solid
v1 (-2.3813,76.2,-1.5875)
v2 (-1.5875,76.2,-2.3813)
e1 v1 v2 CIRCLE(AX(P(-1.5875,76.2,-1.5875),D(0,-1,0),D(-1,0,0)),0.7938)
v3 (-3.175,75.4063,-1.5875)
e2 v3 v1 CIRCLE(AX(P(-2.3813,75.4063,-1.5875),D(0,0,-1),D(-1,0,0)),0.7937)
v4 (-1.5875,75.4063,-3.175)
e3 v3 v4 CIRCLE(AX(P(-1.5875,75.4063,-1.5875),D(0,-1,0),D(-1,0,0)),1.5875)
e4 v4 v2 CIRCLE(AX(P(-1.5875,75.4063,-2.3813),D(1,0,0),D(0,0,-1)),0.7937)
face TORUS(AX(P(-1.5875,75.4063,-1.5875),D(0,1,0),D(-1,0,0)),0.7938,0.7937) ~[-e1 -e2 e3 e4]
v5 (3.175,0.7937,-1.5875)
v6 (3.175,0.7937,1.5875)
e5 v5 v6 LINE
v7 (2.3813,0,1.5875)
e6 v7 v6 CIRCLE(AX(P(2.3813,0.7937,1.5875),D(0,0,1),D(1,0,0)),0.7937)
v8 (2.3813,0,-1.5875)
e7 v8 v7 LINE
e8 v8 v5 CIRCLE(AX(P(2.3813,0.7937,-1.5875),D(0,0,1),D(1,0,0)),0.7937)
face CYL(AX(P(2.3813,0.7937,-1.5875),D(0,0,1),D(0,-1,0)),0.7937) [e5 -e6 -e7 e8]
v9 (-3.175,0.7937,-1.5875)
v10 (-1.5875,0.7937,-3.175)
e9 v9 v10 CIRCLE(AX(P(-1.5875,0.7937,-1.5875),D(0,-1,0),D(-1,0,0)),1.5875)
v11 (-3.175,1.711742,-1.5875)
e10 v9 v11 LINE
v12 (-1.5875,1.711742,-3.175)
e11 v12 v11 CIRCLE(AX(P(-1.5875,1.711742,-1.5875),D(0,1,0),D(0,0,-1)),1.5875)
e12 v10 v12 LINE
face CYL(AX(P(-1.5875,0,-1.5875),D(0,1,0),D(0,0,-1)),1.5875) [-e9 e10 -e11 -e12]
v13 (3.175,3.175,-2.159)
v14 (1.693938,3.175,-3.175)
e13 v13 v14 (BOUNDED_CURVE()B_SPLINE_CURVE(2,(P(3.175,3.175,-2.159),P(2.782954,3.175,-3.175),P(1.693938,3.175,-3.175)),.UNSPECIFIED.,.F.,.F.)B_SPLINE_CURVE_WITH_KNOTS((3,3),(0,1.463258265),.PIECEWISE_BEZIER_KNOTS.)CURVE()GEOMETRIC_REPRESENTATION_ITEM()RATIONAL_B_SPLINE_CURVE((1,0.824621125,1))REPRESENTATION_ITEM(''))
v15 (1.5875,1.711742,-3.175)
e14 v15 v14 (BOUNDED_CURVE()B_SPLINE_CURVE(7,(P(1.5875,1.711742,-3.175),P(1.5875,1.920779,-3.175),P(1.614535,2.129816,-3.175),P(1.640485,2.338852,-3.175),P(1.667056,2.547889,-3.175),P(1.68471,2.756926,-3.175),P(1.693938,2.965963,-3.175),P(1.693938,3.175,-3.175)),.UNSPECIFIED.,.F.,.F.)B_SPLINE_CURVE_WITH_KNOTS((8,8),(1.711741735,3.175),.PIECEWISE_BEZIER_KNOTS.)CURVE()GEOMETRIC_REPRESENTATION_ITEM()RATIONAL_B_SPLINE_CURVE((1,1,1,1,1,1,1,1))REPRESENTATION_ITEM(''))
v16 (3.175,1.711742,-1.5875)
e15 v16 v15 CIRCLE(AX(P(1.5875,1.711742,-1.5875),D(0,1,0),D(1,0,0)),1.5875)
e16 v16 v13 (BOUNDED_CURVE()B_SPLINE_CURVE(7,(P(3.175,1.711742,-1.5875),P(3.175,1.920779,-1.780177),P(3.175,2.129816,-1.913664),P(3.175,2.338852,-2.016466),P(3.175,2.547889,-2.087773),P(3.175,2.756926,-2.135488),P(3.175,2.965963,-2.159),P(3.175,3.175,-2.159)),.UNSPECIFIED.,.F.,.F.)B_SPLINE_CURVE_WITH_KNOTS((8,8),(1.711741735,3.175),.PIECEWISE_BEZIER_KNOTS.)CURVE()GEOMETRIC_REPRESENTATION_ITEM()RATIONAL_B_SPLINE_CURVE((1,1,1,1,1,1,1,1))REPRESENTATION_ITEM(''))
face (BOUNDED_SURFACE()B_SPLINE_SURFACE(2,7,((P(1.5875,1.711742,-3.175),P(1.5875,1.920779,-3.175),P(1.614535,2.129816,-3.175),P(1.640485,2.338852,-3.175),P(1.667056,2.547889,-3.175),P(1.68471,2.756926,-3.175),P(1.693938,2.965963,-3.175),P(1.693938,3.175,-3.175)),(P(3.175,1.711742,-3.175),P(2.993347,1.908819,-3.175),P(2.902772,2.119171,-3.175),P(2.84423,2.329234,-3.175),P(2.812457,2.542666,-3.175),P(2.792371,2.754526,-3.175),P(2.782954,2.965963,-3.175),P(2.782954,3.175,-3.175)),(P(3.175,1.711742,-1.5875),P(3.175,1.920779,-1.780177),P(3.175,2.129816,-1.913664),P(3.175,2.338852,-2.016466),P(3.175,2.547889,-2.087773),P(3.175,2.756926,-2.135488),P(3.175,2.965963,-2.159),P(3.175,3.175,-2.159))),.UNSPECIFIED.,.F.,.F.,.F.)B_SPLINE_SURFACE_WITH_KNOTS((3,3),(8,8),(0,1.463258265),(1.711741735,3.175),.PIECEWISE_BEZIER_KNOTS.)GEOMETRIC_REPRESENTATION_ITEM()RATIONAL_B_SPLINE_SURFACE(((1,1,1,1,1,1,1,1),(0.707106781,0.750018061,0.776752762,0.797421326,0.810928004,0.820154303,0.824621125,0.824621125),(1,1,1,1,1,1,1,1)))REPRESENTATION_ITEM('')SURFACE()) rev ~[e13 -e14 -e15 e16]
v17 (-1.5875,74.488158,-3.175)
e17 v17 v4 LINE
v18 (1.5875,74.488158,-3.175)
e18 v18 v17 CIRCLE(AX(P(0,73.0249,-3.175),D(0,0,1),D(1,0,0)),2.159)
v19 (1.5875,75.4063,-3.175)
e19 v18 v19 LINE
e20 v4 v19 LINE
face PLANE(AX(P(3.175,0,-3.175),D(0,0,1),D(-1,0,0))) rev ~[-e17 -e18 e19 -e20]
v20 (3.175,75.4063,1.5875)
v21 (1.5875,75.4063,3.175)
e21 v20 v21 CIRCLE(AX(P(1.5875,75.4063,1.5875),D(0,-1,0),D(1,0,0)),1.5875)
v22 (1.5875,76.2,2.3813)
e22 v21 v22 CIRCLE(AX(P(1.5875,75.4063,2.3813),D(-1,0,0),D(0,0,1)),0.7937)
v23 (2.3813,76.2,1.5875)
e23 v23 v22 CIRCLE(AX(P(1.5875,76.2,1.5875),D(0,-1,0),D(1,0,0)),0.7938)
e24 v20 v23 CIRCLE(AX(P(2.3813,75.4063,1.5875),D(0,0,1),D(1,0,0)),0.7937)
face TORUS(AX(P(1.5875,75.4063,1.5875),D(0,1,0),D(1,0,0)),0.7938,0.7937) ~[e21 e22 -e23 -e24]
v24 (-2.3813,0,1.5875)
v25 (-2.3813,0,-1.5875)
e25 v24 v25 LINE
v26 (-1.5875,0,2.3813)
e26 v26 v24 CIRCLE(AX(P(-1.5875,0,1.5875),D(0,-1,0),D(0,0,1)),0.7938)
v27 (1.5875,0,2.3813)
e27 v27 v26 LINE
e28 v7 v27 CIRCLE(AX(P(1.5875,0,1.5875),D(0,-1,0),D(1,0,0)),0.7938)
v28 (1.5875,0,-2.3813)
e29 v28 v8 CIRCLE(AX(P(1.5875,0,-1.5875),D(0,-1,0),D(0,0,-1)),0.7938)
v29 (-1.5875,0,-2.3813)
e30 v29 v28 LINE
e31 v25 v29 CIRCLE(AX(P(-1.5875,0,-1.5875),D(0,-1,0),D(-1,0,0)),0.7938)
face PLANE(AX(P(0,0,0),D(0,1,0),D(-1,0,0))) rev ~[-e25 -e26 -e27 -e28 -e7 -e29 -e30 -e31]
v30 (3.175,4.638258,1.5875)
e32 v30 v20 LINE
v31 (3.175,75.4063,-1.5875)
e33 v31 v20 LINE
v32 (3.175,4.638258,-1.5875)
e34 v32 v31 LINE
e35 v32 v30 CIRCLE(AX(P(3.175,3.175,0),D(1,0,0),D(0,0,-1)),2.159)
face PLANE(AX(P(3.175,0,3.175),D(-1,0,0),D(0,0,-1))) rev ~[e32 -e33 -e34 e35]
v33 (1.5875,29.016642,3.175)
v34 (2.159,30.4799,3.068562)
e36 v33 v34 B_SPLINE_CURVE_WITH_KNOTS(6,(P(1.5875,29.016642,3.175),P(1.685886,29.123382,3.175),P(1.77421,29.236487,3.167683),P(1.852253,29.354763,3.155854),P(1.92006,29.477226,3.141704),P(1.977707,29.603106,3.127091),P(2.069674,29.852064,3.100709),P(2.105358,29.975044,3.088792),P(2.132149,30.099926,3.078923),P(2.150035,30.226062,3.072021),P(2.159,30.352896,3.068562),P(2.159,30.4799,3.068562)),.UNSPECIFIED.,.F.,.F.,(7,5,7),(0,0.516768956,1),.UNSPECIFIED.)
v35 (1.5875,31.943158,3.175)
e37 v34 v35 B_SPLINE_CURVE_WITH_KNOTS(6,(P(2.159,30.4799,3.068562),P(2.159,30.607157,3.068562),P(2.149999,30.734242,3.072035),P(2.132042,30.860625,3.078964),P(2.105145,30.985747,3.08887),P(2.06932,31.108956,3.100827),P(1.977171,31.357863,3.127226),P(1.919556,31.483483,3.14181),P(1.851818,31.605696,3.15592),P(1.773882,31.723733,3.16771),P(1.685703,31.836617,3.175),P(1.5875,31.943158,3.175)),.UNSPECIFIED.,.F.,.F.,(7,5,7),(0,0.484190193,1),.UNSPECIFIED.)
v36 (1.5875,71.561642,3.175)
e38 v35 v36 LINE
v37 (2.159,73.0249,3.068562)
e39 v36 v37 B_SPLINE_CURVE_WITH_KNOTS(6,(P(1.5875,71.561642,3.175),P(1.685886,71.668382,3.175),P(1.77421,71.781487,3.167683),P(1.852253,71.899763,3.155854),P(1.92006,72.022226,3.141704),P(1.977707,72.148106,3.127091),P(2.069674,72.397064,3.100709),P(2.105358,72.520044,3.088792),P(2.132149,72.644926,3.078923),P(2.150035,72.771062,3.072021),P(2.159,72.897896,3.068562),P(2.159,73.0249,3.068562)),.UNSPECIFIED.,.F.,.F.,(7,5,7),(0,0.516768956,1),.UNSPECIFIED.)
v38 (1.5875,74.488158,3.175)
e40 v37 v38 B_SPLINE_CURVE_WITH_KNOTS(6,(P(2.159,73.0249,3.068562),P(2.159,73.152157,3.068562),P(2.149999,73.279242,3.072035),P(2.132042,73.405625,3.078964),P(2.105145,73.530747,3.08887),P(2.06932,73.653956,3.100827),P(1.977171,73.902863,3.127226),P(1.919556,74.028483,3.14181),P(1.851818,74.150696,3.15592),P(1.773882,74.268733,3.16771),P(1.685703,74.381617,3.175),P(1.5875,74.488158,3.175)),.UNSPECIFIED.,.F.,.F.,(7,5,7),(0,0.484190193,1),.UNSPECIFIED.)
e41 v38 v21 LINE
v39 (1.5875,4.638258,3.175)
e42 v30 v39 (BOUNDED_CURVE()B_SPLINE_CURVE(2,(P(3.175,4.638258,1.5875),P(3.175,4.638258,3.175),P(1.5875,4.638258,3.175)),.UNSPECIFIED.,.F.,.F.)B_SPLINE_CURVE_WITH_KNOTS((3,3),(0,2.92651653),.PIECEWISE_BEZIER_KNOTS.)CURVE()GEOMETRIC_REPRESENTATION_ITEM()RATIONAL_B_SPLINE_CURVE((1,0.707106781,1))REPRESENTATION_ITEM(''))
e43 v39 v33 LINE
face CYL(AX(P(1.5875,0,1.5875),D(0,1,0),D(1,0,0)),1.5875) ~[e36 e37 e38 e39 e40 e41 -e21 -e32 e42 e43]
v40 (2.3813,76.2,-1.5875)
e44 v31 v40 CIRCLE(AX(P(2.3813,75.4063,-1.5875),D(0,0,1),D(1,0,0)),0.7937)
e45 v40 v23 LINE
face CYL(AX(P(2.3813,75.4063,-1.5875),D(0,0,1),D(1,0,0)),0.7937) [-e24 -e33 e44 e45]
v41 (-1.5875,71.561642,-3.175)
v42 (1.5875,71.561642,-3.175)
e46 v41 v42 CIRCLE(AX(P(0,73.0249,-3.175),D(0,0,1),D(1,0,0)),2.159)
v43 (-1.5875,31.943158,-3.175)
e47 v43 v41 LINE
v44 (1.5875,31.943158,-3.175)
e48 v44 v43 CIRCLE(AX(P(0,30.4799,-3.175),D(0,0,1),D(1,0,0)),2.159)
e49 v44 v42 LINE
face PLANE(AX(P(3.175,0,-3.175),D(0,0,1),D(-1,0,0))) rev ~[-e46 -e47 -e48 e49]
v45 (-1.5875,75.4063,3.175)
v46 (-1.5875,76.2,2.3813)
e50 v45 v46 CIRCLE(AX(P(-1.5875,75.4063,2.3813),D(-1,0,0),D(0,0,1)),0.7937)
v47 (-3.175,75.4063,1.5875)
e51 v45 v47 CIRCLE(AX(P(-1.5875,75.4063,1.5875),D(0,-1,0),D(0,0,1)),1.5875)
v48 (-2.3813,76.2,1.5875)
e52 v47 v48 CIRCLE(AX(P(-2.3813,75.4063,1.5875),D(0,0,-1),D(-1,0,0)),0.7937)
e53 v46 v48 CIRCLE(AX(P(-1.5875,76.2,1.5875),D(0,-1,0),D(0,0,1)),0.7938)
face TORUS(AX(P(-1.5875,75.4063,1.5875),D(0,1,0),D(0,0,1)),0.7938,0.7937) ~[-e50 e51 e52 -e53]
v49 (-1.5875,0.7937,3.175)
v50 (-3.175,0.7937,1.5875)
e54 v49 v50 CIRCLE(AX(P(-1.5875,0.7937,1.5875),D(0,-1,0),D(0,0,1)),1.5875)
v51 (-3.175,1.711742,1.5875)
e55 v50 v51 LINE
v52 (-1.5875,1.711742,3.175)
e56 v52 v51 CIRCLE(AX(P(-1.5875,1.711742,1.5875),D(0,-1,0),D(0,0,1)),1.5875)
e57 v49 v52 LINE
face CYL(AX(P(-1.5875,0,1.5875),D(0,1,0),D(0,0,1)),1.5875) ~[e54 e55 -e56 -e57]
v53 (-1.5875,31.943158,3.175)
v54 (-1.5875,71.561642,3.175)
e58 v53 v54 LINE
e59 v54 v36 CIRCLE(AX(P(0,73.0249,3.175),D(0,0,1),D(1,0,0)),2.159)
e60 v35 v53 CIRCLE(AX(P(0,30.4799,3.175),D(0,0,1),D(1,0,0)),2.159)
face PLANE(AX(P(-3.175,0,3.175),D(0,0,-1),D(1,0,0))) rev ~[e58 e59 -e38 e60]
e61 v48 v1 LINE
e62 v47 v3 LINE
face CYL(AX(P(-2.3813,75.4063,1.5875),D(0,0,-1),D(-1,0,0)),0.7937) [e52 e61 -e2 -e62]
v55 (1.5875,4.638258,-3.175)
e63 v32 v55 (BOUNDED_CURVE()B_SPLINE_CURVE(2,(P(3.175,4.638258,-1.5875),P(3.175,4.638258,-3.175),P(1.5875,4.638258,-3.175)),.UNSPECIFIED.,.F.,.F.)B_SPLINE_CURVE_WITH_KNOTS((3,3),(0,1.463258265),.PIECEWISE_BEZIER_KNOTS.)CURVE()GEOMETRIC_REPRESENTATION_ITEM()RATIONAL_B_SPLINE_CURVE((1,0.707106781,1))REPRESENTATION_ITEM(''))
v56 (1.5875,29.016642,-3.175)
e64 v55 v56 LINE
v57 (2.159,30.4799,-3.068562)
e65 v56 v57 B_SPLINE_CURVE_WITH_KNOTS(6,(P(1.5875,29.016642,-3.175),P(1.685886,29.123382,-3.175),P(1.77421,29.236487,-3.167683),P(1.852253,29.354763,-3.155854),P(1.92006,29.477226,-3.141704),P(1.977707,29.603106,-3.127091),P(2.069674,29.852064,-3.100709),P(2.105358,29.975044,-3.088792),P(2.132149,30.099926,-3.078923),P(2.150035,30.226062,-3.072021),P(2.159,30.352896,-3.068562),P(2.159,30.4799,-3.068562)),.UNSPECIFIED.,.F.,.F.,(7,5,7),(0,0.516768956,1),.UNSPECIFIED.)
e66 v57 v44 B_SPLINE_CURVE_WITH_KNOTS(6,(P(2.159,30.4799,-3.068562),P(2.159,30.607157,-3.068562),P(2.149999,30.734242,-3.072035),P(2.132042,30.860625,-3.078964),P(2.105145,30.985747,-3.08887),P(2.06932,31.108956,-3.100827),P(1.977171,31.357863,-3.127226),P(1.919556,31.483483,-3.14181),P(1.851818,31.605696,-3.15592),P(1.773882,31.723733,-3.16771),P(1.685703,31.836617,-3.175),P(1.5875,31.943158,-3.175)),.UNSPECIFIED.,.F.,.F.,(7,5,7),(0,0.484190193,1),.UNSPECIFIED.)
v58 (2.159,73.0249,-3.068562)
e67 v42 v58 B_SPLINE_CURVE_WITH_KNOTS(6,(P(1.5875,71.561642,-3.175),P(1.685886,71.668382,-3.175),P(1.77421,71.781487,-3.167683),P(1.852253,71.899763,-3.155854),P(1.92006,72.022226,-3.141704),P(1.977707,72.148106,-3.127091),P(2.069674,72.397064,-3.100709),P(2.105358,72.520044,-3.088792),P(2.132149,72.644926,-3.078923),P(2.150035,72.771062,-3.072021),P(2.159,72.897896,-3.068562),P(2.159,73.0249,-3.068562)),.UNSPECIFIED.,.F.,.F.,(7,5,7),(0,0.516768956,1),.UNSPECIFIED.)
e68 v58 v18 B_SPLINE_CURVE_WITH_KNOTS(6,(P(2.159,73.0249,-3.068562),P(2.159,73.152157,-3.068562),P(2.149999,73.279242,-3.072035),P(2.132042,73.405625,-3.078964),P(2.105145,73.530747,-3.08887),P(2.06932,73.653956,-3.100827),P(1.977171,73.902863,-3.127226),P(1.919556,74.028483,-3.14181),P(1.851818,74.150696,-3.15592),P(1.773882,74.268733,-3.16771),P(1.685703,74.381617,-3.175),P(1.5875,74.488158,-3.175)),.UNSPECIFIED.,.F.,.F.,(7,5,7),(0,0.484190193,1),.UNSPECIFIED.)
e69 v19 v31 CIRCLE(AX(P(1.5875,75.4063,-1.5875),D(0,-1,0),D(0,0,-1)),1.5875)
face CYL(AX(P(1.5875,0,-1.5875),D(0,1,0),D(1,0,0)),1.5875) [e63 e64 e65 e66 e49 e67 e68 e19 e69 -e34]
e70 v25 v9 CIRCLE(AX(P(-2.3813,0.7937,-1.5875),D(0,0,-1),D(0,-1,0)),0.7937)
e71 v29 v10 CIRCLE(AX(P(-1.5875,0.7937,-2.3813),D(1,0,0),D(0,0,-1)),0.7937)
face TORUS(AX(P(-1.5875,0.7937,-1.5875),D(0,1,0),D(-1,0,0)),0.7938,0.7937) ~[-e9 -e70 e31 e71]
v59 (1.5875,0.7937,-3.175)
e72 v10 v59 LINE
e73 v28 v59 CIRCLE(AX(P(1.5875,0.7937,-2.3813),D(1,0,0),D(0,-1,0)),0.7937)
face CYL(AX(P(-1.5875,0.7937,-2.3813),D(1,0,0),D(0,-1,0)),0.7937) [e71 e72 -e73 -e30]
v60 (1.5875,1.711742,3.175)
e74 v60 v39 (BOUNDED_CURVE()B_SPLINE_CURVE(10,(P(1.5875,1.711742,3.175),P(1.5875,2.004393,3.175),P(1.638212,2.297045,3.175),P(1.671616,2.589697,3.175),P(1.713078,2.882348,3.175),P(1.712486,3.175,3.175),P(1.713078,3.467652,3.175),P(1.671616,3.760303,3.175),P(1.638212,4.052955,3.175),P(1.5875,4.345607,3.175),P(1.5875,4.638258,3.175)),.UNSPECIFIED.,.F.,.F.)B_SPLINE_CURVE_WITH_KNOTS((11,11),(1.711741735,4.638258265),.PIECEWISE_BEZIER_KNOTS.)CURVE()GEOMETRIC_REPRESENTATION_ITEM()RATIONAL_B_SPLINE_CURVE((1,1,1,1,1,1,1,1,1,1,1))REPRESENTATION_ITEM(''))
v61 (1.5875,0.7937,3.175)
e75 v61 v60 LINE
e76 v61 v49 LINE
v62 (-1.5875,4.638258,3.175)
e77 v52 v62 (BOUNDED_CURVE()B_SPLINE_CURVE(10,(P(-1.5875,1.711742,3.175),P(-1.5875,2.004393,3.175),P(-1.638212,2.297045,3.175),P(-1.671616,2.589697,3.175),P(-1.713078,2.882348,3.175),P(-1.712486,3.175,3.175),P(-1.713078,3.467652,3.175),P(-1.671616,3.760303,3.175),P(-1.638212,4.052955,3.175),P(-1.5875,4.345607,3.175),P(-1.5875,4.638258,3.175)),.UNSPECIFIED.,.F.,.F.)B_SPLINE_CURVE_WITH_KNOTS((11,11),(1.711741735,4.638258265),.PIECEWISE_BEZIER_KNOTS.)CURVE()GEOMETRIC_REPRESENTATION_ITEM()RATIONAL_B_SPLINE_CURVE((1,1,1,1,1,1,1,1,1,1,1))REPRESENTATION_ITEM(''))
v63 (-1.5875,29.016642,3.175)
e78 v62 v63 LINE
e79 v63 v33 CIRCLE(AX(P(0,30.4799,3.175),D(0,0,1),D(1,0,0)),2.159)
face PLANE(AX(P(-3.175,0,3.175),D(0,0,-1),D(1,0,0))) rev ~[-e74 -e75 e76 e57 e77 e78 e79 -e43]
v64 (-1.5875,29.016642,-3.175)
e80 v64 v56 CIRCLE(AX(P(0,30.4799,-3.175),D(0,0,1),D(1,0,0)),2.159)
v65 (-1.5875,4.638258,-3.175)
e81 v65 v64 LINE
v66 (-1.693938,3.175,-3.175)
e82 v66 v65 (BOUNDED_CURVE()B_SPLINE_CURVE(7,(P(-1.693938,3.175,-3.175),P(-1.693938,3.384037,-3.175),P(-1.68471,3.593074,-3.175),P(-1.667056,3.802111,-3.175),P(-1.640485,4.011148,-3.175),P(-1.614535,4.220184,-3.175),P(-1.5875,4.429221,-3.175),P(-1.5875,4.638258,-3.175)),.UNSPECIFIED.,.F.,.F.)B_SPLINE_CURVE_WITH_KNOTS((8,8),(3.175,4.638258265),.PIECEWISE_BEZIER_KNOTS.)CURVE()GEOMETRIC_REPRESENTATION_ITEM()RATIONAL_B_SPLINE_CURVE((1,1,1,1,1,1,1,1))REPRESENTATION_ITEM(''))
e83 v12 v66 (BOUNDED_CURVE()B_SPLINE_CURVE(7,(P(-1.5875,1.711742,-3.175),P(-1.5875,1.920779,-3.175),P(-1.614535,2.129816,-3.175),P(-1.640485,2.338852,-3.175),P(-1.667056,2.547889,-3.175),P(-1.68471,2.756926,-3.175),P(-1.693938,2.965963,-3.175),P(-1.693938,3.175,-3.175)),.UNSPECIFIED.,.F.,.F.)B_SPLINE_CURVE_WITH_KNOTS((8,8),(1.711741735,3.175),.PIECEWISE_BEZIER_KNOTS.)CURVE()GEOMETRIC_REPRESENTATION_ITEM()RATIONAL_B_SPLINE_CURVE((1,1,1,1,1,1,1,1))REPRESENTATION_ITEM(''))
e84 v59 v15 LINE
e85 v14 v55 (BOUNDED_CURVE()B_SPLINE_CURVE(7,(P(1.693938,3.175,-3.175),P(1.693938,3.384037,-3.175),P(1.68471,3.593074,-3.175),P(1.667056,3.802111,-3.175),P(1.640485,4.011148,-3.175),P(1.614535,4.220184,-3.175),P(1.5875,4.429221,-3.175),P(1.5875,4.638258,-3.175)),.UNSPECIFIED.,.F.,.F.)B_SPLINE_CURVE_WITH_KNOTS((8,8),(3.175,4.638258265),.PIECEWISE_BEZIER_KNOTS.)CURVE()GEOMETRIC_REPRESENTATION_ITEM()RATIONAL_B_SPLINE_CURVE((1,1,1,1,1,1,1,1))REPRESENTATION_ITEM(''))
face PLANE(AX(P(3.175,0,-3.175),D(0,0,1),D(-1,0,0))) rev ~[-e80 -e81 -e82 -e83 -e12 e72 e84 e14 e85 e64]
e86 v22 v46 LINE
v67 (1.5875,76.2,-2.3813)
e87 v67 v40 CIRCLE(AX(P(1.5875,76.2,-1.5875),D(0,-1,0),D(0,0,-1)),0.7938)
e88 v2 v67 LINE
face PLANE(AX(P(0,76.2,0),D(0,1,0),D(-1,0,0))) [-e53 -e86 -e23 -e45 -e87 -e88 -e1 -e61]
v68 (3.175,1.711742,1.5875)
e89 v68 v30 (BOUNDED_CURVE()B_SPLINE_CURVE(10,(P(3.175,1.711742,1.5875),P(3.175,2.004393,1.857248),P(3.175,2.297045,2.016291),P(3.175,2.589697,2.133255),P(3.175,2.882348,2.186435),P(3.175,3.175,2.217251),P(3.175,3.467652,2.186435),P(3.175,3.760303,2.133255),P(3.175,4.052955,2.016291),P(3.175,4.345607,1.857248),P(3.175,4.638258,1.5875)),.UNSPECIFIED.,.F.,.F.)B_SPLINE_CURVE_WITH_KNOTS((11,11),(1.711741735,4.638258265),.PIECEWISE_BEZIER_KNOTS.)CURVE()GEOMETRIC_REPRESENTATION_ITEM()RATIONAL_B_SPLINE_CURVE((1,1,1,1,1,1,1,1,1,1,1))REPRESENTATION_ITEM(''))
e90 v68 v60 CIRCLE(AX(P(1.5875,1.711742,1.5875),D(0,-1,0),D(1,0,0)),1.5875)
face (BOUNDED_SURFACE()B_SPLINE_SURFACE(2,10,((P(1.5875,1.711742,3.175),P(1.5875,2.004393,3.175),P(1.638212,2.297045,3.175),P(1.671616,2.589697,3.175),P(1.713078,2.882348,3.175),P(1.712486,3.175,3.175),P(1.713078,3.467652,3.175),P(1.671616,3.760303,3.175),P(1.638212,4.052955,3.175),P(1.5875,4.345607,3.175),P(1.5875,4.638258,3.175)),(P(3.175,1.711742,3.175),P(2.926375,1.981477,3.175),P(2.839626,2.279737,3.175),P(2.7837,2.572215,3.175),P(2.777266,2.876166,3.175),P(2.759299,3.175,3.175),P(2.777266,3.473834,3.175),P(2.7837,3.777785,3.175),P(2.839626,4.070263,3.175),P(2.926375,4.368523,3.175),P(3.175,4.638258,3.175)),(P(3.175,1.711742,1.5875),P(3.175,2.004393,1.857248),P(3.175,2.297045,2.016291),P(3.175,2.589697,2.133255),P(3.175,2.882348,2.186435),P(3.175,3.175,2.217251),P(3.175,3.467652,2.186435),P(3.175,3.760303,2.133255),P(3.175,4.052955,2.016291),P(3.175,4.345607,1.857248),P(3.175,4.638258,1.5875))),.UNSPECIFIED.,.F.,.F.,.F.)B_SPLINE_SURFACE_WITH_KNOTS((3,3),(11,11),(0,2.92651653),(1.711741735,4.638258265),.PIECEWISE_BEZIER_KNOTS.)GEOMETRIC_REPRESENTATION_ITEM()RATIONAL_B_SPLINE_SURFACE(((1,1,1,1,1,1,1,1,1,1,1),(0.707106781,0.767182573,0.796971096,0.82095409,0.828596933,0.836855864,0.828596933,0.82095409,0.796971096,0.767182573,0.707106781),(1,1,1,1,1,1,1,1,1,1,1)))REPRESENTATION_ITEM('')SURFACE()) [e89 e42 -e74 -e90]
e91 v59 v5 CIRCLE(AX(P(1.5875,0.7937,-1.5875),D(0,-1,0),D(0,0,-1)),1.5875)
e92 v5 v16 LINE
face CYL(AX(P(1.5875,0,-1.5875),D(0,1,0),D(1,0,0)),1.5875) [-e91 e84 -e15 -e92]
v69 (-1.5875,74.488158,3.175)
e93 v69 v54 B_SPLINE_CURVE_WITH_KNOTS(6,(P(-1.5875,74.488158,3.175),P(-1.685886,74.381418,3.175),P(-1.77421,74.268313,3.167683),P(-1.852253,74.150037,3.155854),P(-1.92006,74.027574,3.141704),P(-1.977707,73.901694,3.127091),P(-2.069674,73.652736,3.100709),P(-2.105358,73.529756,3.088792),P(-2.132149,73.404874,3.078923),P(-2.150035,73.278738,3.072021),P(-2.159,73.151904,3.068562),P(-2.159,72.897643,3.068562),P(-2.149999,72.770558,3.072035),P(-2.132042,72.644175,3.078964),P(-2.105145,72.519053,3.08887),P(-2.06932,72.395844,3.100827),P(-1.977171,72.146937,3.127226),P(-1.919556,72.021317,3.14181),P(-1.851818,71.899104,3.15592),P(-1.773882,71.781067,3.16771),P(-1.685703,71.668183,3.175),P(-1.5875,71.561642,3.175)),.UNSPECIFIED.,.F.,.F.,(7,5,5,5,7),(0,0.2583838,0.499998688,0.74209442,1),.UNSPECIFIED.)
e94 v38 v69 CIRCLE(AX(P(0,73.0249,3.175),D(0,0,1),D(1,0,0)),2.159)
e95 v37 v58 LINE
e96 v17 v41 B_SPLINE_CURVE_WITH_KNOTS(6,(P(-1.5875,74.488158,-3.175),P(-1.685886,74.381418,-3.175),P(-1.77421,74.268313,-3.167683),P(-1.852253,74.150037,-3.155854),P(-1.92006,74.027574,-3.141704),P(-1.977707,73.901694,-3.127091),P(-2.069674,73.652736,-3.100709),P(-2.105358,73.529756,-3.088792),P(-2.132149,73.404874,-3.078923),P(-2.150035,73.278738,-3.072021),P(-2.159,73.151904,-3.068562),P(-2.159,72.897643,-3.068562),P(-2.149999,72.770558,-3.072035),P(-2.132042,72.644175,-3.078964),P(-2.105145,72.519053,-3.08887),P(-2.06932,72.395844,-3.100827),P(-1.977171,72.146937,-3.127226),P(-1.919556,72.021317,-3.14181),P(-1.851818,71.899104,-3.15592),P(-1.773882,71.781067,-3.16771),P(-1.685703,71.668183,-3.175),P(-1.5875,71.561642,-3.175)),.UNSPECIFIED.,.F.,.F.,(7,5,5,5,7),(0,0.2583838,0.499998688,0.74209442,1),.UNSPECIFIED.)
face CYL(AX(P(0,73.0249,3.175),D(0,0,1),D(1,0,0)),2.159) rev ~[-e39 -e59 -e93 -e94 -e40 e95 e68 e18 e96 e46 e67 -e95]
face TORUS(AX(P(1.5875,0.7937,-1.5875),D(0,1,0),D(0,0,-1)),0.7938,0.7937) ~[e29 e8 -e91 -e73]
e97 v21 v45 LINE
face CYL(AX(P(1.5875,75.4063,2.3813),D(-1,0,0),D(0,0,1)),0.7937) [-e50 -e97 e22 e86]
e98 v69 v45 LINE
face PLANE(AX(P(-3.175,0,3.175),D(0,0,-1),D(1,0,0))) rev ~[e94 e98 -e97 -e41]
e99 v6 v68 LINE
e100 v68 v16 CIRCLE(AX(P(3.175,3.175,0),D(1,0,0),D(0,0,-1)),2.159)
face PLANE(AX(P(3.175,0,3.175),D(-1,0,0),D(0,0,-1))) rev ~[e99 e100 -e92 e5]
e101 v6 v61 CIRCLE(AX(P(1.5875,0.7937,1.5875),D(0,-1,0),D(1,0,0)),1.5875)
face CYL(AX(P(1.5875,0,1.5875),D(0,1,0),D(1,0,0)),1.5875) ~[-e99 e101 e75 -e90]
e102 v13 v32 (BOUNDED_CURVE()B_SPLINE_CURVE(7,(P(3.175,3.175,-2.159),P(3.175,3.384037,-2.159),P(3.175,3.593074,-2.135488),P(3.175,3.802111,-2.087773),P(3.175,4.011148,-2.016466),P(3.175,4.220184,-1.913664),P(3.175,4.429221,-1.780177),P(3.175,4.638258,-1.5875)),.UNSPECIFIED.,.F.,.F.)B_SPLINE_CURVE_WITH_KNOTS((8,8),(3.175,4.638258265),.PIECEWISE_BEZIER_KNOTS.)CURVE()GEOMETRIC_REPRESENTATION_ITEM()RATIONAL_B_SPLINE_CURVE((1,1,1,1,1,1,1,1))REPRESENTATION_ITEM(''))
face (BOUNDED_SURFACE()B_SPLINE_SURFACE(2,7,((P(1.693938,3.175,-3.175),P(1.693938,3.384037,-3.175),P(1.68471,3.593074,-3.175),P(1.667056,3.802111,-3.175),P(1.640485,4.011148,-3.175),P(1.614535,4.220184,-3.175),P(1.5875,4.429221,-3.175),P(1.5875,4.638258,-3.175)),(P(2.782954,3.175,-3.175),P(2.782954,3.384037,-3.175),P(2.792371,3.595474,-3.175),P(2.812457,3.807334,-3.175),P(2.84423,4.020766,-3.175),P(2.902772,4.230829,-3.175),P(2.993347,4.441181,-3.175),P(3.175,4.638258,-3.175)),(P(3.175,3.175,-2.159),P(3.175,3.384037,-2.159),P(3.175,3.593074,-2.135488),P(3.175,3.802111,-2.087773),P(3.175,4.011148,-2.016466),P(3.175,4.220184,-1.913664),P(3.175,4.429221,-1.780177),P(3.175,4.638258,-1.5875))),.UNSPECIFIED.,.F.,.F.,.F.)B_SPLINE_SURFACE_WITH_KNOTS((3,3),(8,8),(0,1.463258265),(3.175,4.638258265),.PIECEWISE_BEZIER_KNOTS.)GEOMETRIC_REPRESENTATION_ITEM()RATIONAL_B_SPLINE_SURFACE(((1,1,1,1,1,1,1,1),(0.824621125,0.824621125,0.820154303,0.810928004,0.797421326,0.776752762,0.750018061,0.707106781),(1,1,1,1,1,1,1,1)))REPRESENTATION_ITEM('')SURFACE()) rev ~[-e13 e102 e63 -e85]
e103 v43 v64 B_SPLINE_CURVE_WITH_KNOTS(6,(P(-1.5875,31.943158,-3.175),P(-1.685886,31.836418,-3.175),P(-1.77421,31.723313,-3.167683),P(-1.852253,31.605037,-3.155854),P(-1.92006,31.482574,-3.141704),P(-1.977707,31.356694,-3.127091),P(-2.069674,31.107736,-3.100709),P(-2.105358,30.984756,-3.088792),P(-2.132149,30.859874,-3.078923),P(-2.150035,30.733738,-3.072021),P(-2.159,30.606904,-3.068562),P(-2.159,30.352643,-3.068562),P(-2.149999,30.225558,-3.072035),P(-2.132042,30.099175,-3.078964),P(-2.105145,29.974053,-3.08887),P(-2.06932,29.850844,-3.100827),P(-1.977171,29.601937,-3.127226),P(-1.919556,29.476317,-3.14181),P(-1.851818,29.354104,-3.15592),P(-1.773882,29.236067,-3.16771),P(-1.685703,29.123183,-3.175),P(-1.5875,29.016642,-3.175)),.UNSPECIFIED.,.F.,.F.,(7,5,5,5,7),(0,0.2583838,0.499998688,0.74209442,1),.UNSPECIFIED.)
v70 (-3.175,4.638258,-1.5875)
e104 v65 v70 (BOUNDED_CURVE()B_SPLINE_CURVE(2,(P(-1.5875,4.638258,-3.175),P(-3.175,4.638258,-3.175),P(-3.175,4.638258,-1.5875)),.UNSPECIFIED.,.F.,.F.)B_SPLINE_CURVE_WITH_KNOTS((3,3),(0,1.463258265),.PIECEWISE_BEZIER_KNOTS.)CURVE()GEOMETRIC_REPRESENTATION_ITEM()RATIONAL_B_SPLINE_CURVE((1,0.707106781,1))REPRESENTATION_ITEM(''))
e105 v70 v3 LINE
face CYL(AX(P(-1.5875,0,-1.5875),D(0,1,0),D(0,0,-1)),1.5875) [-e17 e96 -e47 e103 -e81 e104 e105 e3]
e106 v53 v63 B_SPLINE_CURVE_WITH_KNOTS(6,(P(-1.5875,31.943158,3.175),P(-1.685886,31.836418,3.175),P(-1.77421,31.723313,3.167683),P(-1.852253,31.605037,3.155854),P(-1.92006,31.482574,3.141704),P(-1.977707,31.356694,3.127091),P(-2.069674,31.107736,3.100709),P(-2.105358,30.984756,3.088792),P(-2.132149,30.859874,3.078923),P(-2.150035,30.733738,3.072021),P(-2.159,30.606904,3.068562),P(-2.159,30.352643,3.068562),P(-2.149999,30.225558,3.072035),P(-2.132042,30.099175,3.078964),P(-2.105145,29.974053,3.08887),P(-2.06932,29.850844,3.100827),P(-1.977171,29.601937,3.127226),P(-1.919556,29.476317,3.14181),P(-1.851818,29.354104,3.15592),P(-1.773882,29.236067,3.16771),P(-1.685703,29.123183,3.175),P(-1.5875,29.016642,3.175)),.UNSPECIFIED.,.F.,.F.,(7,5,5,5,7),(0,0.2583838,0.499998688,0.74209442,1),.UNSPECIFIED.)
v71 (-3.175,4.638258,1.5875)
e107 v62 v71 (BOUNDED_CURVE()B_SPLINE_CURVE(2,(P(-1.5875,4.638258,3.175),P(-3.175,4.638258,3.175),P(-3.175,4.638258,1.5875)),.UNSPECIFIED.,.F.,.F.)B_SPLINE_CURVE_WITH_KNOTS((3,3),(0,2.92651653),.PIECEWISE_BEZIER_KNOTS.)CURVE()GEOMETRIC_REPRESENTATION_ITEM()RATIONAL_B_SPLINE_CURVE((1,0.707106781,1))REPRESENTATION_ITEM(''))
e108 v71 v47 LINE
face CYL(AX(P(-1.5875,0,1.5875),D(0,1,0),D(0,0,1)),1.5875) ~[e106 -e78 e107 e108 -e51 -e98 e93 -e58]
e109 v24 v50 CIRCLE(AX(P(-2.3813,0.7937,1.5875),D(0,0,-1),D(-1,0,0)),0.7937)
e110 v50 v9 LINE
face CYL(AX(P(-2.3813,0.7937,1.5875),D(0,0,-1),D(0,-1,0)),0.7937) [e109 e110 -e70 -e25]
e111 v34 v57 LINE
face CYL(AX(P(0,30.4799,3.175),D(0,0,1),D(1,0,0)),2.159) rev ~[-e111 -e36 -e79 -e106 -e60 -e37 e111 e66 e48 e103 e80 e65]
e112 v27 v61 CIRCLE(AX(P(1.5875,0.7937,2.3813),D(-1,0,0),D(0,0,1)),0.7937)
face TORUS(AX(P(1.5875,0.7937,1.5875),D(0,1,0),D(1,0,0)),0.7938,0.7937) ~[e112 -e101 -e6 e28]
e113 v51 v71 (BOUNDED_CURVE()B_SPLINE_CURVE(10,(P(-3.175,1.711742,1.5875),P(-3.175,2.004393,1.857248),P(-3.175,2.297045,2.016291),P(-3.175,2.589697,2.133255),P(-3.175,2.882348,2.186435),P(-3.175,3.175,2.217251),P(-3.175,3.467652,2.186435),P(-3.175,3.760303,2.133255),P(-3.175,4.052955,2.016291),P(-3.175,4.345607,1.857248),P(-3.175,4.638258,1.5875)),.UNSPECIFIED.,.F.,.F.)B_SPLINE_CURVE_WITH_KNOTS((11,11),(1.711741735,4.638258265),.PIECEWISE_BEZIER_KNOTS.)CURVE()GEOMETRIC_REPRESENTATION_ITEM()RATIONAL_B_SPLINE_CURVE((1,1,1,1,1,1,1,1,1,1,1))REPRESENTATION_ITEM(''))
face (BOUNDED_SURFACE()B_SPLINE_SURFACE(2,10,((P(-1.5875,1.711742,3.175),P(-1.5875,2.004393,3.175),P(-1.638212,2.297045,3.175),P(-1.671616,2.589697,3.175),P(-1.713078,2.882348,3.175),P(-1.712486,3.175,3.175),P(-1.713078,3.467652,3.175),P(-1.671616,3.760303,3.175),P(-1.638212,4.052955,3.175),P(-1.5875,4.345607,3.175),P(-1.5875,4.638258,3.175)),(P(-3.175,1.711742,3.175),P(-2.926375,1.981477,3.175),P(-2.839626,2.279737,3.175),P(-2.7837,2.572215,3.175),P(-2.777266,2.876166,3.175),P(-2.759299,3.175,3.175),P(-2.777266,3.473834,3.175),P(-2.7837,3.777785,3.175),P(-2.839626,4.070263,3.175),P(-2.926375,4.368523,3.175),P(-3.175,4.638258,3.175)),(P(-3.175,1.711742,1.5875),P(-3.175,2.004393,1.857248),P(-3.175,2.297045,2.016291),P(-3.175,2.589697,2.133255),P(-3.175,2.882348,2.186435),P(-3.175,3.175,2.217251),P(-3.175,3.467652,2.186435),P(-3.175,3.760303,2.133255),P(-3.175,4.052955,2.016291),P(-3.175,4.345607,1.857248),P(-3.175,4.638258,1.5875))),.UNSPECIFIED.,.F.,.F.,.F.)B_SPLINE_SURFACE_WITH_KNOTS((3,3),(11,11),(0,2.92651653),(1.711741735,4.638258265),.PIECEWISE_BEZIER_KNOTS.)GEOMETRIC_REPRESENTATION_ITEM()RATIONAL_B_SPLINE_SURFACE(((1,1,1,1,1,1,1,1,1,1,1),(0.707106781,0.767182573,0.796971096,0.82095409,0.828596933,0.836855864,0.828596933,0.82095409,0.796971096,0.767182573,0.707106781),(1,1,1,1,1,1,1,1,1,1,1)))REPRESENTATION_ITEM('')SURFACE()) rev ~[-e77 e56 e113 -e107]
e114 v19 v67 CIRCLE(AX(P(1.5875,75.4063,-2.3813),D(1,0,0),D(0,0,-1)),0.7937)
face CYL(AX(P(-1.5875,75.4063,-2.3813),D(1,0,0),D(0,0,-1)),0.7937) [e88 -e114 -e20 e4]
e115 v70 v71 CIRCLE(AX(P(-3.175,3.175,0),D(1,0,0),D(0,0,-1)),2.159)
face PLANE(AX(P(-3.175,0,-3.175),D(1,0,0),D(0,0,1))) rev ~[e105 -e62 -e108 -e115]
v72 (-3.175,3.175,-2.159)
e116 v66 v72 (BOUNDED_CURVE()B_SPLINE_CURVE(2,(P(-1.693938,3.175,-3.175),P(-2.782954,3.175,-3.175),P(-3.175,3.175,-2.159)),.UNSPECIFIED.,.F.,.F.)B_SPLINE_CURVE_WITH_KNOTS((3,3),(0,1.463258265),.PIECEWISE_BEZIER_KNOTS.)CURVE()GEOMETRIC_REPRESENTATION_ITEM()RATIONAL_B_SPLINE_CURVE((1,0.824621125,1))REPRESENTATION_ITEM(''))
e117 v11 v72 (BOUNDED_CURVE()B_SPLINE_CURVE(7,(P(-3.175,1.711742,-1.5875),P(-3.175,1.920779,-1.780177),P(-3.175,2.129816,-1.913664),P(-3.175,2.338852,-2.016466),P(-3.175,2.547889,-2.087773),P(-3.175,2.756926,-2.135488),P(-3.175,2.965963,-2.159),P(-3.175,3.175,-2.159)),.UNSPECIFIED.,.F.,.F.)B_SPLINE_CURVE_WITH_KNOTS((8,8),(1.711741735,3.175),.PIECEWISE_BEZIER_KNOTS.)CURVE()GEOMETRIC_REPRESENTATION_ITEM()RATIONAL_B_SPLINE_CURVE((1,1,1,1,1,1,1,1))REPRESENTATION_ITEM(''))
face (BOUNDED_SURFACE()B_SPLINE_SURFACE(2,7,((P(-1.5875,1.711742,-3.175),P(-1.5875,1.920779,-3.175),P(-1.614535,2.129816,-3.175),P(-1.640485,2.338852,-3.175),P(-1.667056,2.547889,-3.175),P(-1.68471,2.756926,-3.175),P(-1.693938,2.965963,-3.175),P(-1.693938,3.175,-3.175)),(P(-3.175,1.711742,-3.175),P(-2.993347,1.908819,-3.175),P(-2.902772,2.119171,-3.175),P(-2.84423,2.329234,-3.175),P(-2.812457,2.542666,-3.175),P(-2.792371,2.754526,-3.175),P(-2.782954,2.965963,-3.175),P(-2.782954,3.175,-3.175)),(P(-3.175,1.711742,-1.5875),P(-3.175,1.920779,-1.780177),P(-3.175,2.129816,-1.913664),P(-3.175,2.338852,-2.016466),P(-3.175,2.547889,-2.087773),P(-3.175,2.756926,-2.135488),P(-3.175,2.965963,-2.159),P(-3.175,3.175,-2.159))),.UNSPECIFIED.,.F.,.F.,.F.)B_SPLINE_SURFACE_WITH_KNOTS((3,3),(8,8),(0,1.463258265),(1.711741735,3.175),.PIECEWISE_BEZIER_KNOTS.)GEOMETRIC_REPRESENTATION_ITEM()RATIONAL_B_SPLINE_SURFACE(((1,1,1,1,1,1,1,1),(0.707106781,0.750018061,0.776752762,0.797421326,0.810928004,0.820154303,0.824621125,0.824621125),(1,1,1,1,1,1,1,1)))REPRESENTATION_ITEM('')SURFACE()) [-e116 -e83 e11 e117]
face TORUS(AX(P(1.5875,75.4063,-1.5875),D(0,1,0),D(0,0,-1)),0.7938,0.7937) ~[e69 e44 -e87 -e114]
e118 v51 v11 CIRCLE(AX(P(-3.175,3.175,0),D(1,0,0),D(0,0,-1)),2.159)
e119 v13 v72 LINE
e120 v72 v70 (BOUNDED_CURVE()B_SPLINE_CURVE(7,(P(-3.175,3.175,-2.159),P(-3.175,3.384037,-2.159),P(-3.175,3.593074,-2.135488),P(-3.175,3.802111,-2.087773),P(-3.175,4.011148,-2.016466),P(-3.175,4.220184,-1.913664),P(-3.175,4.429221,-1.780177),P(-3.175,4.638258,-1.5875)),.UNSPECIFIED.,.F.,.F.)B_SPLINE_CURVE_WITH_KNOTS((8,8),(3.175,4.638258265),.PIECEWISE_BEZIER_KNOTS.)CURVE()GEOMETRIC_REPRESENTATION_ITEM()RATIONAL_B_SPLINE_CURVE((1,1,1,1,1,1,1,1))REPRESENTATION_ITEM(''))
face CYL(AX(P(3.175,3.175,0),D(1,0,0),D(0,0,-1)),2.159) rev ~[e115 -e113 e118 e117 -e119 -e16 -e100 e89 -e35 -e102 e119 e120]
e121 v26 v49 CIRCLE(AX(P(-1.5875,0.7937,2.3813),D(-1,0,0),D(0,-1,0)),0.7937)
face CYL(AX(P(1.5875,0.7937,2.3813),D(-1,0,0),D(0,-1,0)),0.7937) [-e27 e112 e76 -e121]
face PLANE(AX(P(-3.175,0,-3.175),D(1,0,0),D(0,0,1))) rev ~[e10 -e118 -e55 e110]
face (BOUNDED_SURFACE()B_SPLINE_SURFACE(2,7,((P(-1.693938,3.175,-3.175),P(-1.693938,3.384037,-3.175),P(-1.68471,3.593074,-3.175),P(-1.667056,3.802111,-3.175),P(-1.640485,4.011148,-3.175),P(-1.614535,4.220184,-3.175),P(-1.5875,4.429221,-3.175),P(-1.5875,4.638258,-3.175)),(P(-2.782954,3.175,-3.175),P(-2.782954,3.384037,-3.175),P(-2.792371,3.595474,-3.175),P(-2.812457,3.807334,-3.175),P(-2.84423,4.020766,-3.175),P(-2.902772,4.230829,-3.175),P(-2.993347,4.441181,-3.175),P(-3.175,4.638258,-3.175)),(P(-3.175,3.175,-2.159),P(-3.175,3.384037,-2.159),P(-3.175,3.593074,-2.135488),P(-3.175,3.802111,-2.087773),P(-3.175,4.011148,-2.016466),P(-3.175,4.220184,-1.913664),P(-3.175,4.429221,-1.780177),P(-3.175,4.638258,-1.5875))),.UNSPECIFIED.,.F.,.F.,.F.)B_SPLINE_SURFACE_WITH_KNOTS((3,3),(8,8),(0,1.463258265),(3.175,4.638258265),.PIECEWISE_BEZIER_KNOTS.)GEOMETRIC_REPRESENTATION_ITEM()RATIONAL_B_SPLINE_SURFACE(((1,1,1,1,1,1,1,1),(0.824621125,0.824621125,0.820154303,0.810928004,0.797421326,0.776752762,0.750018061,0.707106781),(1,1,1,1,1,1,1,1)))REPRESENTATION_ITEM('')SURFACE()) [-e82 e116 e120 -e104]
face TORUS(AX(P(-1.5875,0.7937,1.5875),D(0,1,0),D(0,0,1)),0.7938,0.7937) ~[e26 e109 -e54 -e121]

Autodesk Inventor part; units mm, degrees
ref_plane "YZ Plane" through (0, 0, 0) normal (1, 0, 0) x (0, 1, 0)
ref_plane "XZ Plane" through (0, 0, 0) normal (0, 1, 0) x (-1, 0, 0)
ref_plane "XY Plane" through (0, 0, 0) normal (0, 0, 1) x (1, 0, 0)
sketch "Sketch1" plane through (0, 0, 0) normal (0, 1, 0) x (-1, 0, 0)
  line L0 (-3.175, -3.175) -> (3.175, -3.175)
  line L1 (3.175, -3.175) -> (3.175, 3.175)
  line L2 (3.175, 3.175) -> (-3.175, 3.175)
  line L3 (-3.175, 3.175) -> (-3.175, -3.175)
  line L4 (-3.175, -3.175) -> (3.175, 3.175) construction
  line L5 (3.175, -3.175) -> (-3.175, 3.175) construction
  point P0 (0, 0)
  dimension "d0" = 6.35
  dimension "d1" = 6.35
extrude "Extrusion1" add sketch "Sketch1" along normal blind 76.2
sketch "Sketch2" plane through (3.175, 0, 3.175) normal (1, 0, 0) x (0, 0, -1)
  circle A0 centre (3.175, 3.175) radius 2.159
  line L0 (0, 0) -> (6.35, 0) projected
  point P0 (3.175, 0)
  dimension "d4" = 4.318
  dimension "d5" = 3.175
extrude "Extrusion2" cut sketch "Sketch2" against normal blind 76.2
fillet "Fillet1" radius 1.5875 4 edges at (3.175, 38.1, -3.175) (-3.175, 38.1, -3.175) (3.175, 38.1, 3.175) (-3.175, 38.1, 3.175)
fillet "Fillet2" radius 0.7937 16 edges at (2.71, 0, 2.71) (3.175, 0, 0) (2.71, 0, -2.71) (0, 0, -3.175) (-2.71, 0, -2.71) (-3.175, 0, 0) (-2.71, 0, 2.71) (0, 0, 3.175) (2.71, 76.2, 2.71) (3.175, 76.2, 0) (2.71, 76.2, -2.71) (0, 76.2, -3.175) (-2.71, 76.2, -2.71) (-3.175, 76.2, 0) (-2.71, 76.2, 2.71) (0, 76.2, 3.175)
sketch "Sketch3" plane through (-1.5875, 75.4062, 3.175) normal (0, 0, 1) x (1, 0, 0)
  circle A0 centre (1.5875, -44.9263) radius 2.159
  line L0 (0, -75.4062) -> (3.175, -75.4062) projected
  point P0 (1.5875, -75.4062)
  dimension "d10" = 4.318
  dimension "d11" = 30.48
extrude "Extrusion3" cut sketch "Sketch3" against normal blind 76.2
sketch "Sketch4" plane through (-1.5875, 75.4062, 3.175) normal (0, 0, 1) x (1, 0, 0)
  circle A0 centre (1.5875, -2.3813) radius 2.159
  line L0 (3.175, 0.7937) -> (0, 0.7937) projected
  point P0 (1.5875, -75.4062)
  dimension "d14" = 4.318
  dimension "d15" = 3.175
extrude "Extrusion4" cut sketch "Sketch4" against normal blind 76.2
properties part number "beam" material "Stainless Steel"
